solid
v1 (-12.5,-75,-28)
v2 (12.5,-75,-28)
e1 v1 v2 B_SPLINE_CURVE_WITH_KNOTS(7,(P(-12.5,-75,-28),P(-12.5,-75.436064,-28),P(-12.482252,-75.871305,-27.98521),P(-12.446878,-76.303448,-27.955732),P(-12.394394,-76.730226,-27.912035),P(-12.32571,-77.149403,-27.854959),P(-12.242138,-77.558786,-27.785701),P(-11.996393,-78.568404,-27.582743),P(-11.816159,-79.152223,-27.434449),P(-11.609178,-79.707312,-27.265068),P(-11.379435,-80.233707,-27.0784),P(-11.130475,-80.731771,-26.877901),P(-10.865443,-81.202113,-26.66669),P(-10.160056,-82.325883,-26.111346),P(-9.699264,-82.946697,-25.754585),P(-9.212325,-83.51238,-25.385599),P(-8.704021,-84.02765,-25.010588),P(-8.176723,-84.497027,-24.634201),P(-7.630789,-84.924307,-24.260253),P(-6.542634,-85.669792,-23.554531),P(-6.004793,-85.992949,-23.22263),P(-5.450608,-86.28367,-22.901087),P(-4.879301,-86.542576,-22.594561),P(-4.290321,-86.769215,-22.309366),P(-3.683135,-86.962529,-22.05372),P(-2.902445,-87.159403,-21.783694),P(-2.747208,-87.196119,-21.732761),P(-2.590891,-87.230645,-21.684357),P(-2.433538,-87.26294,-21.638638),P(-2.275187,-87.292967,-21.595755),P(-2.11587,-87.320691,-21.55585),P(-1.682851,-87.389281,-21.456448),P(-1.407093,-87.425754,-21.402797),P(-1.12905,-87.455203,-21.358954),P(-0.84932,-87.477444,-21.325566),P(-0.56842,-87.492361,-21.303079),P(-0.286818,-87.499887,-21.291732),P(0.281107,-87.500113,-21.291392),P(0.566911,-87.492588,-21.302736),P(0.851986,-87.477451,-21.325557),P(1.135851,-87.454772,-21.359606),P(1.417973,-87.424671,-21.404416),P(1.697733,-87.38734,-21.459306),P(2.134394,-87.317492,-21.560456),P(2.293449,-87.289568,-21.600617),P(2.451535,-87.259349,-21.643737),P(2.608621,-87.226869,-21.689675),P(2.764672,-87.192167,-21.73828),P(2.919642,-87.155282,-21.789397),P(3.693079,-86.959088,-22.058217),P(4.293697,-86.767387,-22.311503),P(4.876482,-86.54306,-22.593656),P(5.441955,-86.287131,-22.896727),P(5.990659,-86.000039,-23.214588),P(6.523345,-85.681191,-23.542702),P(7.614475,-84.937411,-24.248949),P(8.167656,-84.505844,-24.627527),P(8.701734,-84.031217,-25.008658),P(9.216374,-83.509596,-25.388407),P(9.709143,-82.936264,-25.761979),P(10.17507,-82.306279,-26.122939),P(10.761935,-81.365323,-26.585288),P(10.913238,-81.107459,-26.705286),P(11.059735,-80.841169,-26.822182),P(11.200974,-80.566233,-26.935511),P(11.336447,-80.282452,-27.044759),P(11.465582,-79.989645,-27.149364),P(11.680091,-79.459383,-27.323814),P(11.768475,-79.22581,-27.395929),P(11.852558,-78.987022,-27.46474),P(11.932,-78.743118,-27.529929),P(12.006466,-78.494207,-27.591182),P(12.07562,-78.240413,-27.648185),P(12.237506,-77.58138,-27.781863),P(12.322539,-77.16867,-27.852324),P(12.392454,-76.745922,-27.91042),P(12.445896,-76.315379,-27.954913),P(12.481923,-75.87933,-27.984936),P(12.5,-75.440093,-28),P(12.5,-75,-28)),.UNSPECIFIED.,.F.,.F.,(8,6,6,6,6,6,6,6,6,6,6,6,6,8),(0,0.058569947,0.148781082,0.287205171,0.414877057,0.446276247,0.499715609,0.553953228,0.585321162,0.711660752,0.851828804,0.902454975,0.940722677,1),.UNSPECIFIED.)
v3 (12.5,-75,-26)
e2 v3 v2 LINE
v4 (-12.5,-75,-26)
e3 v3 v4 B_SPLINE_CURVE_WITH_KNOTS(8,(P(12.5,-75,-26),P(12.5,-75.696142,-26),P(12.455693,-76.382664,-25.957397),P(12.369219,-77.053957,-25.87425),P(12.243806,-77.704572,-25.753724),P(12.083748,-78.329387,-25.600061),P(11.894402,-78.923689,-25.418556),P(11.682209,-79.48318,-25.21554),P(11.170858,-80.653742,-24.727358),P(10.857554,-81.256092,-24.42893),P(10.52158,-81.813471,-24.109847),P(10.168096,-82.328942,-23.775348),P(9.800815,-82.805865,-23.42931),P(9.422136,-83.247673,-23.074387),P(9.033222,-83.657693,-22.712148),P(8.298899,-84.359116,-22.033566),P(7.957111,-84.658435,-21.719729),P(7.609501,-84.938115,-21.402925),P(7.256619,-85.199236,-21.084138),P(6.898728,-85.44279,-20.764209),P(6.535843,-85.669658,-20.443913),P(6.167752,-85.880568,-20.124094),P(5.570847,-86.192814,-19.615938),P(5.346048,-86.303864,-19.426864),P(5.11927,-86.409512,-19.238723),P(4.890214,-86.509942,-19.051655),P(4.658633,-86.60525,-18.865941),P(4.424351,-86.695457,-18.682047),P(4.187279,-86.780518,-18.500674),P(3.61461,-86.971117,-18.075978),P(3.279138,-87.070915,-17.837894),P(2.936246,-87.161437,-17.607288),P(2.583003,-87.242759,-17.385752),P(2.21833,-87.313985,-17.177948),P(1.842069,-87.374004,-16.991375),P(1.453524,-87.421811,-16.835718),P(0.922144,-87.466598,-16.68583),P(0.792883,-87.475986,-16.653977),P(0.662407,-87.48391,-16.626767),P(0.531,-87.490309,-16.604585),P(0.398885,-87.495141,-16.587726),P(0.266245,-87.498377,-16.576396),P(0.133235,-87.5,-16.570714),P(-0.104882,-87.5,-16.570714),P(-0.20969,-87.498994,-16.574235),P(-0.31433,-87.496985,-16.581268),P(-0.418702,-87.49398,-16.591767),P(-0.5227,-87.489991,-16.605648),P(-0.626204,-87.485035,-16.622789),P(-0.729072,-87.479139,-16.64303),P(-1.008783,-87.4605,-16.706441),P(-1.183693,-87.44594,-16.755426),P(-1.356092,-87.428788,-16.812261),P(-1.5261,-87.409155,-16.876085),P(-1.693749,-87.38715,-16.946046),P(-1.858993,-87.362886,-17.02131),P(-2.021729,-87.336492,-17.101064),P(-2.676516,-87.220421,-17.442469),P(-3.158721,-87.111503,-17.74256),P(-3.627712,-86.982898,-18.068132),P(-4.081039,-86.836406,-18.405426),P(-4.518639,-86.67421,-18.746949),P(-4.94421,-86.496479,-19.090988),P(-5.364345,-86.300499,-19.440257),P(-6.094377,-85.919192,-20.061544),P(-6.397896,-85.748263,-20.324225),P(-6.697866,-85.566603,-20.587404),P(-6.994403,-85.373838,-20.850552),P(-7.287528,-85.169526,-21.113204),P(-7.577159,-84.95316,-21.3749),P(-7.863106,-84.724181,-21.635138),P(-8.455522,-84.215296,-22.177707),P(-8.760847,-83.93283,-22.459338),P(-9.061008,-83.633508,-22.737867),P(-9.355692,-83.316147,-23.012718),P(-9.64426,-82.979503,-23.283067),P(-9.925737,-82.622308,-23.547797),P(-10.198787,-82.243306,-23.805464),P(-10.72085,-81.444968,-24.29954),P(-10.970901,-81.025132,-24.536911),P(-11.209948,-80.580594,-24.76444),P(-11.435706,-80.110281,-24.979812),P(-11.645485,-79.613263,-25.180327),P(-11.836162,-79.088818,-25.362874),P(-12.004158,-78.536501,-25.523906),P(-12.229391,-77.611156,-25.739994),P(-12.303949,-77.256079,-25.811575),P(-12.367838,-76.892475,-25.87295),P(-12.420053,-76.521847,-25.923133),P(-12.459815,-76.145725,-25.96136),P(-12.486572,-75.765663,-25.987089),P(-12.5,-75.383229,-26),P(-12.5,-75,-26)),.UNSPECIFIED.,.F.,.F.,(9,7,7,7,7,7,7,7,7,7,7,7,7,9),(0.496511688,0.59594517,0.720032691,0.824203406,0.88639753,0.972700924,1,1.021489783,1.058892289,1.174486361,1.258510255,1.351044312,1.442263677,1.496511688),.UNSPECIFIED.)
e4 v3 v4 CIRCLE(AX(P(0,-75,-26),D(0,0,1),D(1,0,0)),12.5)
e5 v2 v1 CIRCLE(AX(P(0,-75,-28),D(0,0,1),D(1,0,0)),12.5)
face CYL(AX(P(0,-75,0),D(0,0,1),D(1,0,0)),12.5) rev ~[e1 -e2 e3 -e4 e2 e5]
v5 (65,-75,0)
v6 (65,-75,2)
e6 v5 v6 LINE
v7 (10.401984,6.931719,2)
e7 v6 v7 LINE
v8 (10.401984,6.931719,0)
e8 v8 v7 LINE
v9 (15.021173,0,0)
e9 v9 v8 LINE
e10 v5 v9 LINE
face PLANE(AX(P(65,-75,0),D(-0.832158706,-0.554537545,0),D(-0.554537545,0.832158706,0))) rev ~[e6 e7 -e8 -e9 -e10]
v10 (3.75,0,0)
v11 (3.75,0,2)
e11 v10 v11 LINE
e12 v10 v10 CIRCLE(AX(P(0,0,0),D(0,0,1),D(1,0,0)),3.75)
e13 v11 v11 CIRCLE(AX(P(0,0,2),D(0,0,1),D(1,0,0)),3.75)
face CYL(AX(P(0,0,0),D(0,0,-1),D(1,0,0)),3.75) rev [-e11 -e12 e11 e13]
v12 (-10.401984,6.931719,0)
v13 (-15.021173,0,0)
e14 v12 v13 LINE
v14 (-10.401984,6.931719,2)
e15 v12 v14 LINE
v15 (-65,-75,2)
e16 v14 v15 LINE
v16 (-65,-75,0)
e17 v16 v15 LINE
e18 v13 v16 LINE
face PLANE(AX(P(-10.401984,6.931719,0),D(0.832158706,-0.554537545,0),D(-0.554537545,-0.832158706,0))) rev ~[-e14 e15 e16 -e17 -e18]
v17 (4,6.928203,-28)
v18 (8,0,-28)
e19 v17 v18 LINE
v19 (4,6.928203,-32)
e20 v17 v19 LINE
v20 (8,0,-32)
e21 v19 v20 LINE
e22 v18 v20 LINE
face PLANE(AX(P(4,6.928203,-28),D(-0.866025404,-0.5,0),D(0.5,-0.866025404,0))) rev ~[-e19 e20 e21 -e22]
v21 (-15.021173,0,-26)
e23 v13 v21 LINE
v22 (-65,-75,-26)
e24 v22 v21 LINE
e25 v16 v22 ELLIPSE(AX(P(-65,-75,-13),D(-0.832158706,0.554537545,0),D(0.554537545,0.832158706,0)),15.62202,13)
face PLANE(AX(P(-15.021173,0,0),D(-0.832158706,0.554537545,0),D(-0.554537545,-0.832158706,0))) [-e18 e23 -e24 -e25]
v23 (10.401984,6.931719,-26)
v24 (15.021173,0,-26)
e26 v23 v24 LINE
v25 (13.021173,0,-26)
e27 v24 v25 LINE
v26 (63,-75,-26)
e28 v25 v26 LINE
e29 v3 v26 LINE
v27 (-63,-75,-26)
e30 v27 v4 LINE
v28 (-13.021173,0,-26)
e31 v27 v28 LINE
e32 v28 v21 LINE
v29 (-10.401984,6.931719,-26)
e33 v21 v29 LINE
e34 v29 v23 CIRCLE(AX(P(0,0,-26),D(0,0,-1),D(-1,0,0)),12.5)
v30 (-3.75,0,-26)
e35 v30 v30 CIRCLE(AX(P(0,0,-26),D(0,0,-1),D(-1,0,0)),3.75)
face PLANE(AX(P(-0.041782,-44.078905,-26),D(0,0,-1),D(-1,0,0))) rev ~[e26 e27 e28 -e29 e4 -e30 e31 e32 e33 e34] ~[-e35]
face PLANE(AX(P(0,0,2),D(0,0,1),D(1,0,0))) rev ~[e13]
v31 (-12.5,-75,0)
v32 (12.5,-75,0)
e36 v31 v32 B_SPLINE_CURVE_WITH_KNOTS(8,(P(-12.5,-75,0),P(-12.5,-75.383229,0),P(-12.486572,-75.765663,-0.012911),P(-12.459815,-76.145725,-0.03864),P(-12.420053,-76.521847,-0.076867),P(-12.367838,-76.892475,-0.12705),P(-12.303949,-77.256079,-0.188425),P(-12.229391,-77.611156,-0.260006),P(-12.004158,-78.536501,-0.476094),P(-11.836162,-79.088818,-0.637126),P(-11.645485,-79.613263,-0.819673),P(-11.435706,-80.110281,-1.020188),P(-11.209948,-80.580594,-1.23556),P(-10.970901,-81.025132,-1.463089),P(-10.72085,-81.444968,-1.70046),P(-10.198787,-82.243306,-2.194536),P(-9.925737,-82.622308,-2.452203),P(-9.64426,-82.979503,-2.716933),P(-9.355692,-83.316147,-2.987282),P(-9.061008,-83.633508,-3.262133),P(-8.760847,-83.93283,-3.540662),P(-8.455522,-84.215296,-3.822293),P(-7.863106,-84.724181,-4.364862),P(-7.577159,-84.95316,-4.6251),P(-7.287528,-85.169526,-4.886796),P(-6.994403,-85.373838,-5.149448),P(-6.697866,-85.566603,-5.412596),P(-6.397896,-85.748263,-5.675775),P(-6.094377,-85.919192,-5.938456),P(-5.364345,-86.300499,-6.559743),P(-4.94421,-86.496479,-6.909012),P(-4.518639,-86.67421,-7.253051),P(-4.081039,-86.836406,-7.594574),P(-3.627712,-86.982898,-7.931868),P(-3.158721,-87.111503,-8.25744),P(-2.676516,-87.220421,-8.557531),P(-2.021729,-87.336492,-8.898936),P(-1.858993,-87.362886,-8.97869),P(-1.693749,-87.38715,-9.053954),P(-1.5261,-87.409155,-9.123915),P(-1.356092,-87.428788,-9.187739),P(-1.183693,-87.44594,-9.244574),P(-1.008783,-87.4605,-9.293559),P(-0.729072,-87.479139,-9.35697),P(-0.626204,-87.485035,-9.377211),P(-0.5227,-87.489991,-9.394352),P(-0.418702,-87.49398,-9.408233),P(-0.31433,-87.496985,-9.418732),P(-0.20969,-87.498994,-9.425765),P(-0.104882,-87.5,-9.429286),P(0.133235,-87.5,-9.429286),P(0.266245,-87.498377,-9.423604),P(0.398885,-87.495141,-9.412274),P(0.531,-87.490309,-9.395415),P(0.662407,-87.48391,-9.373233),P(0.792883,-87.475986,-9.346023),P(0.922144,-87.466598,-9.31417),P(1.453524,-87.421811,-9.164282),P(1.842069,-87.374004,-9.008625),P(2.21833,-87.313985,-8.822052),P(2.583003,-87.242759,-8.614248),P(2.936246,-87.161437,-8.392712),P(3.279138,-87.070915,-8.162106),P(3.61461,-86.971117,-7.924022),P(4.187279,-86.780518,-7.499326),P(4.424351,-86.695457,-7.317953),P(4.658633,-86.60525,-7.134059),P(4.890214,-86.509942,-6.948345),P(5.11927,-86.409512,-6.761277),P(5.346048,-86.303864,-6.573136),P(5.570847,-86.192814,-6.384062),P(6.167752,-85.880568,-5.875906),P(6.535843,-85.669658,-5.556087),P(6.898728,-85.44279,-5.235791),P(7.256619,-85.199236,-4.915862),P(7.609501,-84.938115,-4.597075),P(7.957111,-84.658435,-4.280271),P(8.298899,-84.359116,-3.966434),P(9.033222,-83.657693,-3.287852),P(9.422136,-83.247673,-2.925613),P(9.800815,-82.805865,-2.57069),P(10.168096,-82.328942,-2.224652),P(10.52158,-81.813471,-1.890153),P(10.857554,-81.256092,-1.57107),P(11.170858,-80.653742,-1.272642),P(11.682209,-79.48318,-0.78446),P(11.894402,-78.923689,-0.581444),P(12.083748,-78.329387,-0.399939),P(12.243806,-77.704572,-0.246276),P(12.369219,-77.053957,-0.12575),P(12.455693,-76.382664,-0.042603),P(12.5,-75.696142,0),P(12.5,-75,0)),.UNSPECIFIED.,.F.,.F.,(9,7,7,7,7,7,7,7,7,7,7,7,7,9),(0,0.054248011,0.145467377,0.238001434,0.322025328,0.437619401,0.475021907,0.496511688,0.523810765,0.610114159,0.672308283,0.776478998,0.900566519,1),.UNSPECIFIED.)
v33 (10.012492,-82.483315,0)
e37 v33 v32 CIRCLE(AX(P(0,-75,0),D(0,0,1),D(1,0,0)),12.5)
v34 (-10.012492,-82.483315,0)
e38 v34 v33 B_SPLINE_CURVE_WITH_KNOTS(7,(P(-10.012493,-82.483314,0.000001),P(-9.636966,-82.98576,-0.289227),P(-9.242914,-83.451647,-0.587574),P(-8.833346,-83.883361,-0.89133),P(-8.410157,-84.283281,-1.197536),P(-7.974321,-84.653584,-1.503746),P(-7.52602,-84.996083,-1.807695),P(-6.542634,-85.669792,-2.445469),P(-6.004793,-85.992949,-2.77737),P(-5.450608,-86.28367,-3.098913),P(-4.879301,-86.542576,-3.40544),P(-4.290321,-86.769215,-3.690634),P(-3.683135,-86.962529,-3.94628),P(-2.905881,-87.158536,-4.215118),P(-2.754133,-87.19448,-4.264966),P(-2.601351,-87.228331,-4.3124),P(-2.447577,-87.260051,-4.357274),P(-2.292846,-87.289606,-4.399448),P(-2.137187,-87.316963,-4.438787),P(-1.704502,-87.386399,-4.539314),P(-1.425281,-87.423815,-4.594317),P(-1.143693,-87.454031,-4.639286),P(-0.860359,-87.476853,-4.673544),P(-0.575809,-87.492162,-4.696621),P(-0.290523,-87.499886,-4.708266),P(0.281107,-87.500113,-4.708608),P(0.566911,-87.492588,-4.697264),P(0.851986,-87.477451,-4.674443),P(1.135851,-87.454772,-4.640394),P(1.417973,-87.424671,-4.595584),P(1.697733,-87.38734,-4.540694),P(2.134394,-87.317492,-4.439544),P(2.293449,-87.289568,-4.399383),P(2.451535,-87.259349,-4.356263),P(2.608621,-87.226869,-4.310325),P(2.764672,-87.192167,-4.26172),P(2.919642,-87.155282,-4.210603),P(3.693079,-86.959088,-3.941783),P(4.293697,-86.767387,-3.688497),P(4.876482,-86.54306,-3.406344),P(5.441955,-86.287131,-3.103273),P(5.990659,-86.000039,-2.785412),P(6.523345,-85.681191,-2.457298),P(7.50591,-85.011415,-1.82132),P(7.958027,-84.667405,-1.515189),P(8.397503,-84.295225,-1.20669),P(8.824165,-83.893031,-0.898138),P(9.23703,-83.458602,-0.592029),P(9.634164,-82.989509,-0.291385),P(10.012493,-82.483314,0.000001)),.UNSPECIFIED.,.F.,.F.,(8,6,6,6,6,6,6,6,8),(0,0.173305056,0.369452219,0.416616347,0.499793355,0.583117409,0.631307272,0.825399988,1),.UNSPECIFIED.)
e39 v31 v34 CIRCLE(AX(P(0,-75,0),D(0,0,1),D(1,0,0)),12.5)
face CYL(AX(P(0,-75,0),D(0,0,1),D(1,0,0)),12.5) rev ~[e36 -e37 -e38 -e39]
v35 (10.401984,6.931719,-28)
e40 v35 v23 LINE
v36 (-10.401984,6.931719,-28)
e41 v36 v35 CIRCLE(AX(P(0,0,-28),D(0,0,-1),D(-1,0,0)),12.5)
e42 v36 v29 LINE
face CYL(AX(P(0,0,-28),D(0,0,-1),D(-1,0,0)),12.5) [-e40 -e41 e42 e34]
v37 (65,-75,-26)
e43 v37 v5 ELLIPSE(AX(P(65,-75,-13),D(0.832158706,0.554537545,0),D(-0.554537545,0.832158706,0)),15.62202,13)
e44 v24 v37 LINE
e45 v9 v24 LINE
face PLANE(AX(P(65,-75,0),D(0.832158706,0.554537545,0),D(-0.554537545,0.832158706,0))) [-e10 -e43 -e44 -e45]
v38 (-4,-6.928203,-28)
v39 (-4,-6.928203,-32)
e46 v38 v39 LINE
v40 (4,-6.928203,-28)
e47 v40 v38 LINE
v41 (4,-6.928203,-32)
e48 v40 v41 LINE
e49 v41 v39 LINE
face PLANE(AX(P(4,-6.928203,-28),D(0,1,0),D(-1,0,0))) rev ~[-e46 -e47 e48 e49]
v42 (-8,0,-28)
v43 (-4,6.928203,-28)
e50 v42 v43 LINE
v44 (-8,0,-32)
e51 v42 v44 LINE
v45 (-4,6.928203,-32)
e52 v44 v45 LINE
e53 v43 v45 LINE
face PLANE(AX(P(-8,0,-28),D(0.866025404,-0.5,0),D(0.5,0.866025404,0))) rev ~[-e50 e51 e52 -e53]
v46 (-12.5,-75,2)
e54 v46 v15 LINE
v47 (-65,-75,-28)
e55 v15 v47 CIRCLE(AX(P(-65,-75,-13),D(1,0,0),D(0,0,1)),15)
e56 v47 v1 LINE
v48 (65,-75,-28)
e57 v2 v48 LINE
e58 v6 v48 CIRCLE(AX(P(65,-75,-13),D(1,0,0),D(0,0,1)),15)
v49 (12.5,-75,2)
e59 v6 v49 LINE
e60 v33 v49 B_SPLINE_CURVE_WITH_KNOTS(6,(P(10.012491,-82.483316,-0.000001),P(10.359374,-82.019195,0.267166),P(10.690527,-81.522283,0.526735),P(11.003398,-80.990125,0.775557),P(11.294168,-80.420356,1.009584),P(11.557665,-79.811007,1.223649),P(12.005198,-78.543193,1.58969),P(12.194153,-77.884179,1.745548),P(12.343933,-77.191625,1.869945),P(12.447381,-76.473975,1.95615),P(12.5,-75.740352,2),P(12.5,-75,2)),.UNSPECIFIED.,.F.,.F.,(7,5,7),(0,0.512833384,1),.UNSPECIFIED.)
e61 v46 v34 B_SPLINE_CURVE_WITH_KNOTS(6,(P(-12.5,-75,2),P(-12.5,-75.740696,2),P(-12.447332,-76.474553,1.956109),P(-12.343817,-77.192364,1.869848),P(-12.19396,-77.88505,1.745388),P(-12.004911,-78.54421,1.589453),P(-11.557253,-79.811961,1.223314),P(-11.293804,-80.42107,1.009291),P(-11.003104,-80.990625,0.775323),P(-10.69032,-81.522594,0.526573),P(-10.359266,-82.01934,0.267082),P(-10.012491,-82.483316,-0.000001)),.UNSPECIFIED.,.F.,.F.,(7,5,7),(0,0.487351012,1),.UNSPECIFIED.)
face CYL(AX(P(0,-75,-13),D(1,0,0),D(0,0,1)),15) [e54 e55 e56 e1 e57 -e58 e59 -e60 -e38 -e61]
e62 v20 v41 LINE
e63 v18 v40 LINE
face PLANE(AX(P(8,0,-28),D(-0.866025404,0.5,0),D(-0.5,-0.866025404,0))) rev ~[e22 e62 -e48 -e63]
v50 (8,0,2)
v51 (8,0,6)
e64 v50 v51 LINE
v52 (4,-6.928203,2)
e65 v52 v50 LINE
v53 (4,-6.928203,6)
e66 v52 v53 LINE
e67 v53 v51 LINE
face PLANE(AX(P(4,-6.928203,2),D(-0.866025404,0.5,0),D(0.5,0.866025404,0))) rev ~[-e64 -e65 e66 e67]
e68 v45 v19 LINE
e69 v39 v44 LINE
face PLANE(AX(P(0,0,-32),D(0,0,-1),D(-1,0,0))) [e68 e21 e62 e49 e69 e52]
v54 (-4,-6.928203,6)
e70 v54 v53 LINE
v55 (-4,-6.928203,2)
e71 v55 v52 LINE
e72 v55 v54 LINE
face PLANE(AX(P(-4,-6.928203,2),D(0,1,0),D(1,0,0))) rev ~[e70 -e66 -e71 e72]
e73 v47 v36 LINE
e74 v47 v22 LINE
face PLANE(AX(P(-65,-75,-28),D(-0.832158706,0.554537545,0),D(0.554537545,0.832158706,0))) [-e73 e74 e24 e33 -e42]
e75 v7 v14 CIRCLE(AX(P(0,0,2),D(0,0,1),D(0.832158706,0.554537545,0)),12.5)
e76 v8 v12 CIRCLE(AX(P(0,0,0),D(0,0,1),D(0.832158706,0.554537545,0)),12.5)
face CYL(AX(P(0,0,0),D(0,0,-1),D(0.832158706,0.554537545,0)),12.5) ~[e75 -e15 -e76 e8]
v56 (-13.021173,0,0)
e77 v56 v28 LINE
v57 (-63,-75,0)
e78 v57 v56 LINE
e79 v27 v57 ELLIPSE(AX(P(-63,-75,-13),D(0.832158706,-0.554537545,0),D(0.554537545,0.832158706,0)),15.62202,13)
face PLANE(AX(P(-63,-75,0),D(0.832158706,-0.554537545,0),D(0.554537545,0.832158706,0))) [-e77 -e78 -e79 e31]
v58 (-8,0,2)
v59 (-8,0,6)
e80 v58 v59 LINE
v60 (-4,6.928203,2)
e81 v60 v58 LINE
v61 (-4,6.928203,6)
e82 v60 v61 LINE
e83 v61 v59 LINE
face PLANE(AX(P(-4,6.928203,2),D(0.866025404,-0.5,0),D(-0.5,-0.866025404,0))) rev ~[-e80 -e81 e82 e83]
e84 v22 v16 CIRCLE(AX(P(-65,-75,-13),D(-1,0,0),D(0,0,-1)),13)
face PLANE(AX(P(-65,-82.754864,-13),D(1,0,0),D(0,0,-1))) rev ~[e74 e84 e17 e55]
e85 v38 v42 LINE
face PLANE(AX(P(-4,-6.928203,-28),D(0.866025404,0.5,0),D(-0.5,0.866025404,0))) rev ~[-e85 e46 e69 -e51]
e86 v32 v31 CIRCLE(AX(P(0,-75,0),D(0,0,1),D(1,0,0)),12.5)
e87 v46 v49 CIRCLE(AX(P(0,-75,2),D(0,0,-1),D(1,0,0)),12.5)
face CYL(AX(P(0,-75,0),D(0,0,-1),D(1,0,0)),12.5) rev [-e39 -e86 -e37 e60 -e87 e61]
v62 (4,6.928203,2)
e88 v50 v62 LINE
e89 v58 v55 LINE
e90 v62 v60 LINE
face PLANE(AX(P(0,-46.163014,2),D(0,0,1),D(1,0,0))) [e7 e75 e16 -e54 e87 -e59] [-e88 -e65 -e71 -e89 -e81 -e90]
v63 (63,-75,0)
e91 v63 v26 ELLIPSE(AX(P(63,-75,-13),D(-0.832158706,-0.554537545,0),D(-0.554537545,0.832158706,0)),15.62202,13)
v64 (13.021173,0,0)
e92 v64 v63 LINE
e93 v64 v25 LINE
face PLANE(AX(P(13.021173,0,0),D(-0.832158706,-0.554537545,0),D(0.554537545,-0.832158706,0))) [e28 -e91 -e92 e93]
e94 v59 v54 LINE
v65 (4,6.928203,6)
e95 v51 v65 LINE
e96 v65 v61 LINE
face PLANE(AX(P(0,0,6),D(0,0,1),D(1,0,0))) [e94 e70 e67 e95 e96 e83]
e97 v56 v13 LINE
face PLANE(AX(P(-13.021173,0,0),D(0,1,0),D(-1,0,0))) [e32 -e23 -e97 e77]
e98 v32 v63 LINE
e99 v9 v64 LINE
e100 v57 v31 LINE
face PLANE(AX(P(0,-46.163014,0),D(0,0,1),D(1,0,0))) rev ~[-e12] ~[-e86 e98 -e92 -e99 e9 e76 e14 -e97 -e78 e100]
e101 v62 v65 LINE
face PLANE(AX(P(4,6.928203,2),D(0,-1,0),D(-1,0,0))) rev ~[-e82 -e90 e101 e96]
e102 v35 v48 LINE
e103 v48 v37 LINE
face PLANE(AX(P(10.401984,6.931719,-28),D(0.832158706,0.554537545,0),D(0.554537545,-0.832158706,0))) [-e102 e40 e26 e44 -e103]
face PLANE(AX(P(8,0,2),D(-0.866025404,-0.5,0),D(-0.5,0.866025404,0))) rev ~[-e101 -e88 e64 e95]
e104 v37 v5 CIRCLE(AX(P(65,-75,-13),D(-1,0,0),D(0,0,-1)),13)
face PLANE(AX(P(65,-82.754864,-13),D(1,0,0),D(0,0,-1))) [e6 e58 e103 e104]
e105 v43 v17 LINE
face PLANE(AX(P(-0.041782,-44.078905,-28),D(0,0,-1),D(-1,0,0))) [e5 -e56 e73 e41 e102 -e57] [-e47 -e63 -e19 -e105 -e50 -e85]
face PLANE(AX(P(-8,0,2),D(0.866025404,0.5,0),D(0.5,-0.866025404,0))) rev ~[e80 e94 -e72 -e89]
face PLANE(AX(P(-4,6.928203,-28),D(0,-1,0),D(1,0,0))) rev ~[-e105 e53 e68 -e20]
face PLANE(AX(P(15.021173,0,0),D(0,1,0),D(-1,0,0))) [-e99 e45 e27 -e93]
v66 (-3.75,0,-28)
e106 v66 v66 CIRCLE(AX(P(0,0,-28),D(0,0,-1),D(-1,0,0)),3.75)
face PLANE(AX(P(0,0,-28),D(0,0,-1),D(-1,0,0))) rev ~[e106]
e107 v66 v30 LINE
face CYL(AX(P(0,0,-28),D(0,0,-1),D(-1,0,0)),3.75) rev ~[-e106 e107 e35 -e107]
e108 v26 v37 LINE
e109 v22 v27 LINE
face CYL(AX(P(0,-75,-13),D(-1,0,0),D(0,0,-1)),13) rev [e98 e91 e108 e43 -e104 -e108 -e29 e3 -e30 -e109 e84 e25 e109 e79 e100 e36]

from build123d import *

# Parameters (mm, degrees)
SKETCH1_R                = 3.75
BOSS_EXTRUDE1_DEPTH      = 2
BOSS_EXTRUDE2_DEPTH      = 65
BOSS_EXTRUDE2_DEPTH_BACK = 65
SKETCH4_R                = 12.5
SKETCH4_R_2              = 3.75
BOSS_EXTRUDE3_DEPTH      = 2
SKETCH5_R                = 12.5
CUT_EXTRUDE1_DEPTH       = 3
CUT_EXTRUDE1_DEPTH_BACK  = 29
BOSS_EXTRUDE4_DEPTH      = 26
SKETCH7_R                = 13
CUT_EXTRUDE2_DEPTH       = 66.0000001
CUT_EXTRUDE2_DEPTH_BACK  = 66.0000001
BOSS_EXTRUDE5_DEPTH      = 4
BOSS_EXTRUDE6_DEPTH      = 4


with BuildPart() as part:
    # Sketch1 → Boss-Extrude1 (new body)
    with BuildSketch(Plane.XY):
        with BuildLine():
            Line((-10.40198382, 6.931719311), (-65, -75))
            Line((-65, -75), (65, -75))
            Line((65, -75), (10.40198382, 6.931719311))
            ThreePointArc((10.40198382, 6.931719311), (0, 12.5), (-10.40198382, 6.931719311))
        make_face()
        Circle(SKETCH1_R, mode=Mode.SUBTRACT)
    extrude(amount=BOSS_EXTRUDE1_DEPTH)

    # Sketch2 → Boss-Extrude2 (add, two sides)
    with BuildSketch(Plane(origin=(0, 0, 0), x_dir=(0, 0, -1), z_dir=(1, 0, 0))) as boss_extrude2_sk:
        with BuildLine():
            Line((0, -75), (-2, -75))
            ThreePointArc((-2, -75), (13, -90), (28, -75))
            Line((28, -75), (26, -75))
            ThreePointArc((26, -75), (13, -88), (0, -75))
        make_face()
    extrude(amount=BOSS_EXTRUDE2_DEPTH)
    extrude(boss_extrude2_sk.sketch, amount=-BOSS_EXTRUDE2_DEPTH_BACK)

    # Sketch4 → Boss-Extrude3 (add)
    with BuildSketch(Plane(origin=(0, 0, -28), x_dir=(-1, 0, 0), z_dir=(0, 0, -1))):
        with BuildLine():
            ThreePointArc((12.5, 0), (-3.621132575, -11.964004299), (-10.40198382, 6.931719311))
            Line((-10.40198382, 6.931719311), (-65, -75))
            Line((-65, -75), (65, -75))
            Line((65, -75), (10.40198382, 6.931719311))
            ThreePointArc((10.40198382, 6.931719311), (11.964004299, 3.621132575), (12.5, 0))
        make_face()
        Circle(SKETCH4_R)
        Circle(SKETCH4_R_2, mode=Mode.SUBTRACT)
    extrude(amount=-BOSS_EXTRUDE3_DEPTH)

    # Sketch5 → Cut-Extrude1 (cut, two sides)
    with BuildSketch(Plane.XY) as cut_extrude1_sk:
        with Locations((0, -75)):
            Circle(SKETCH5_R)
    extrude(amount=CUT_EXTRUDE1_DEPTH, mode=Mode.SUBTRACT)
    extrude(cut_extrude1_sk.sketch, amount=-CUT_EXTRUDE1_DEPTH_BACK, mode=Mode.SUBTRACT)

    # Sketch6 → Boss-Extrude4 (add)
    with BuildSketch(Plane.XY):
        Polygon((15.021173144, 0), (13.021173144, 0), (63, -75), (65, -75), align=None)
        Polygon((-13.021173144, 0), (-15.021173144, 0), (-65, -75), (-63, -75), align=None)
    extrude(amount=-BOSS_EXTRUDE4_DEPTH)

    # Sketch7 → Cut-Extrude2 (cut, two sides)
    with BuildSketch(Plane(origin=(0, 0, 0), x_dir=(0, 0, -1), z_dir=(1, 0, 0))) as cut_extrude2_sk:
        with Locations((13, -75)):
            Circle(SKETCH7_R)
    extrude(amount=CUT_EXTRUDE2_DEPTH, mode=Mode.SUBTRACT)
    extrude(cut_extrude2_sk.sketch, amount=-CUT_EXTRUDE2_DEPTH_BACK, mode=Mode.SUBTRACT)

    # Sketch8 → Boss-Extrude5 (add)
    with BuildSketch(Plane(origin=(0, 0, -28), x_dir=(-1, 0, 0), z_dir=(0, 0, -1))):
        Polygon((8, 0), (4, 6.92820323), (-4, 6.92820323), (-8, 0), (-4, -6.92820323), (4, -6.92820323), align=None)
    extrude(amount=BOSS_EXTRUDE5_DEPTH)

    # Sketch9 → Boss-Extrude6 (add)
    with BuildSketch(Plane.XY.offset(2)):
        Polygon((8, 0), (4, 6.92820323), (-4, 6.92820323), (-8, 0), (-4, -6.92820323), (4, -6.92820323), align=None)
    extrude(amount=BOSS_EXTRUDE6_DEPTH)


solid = part.part
